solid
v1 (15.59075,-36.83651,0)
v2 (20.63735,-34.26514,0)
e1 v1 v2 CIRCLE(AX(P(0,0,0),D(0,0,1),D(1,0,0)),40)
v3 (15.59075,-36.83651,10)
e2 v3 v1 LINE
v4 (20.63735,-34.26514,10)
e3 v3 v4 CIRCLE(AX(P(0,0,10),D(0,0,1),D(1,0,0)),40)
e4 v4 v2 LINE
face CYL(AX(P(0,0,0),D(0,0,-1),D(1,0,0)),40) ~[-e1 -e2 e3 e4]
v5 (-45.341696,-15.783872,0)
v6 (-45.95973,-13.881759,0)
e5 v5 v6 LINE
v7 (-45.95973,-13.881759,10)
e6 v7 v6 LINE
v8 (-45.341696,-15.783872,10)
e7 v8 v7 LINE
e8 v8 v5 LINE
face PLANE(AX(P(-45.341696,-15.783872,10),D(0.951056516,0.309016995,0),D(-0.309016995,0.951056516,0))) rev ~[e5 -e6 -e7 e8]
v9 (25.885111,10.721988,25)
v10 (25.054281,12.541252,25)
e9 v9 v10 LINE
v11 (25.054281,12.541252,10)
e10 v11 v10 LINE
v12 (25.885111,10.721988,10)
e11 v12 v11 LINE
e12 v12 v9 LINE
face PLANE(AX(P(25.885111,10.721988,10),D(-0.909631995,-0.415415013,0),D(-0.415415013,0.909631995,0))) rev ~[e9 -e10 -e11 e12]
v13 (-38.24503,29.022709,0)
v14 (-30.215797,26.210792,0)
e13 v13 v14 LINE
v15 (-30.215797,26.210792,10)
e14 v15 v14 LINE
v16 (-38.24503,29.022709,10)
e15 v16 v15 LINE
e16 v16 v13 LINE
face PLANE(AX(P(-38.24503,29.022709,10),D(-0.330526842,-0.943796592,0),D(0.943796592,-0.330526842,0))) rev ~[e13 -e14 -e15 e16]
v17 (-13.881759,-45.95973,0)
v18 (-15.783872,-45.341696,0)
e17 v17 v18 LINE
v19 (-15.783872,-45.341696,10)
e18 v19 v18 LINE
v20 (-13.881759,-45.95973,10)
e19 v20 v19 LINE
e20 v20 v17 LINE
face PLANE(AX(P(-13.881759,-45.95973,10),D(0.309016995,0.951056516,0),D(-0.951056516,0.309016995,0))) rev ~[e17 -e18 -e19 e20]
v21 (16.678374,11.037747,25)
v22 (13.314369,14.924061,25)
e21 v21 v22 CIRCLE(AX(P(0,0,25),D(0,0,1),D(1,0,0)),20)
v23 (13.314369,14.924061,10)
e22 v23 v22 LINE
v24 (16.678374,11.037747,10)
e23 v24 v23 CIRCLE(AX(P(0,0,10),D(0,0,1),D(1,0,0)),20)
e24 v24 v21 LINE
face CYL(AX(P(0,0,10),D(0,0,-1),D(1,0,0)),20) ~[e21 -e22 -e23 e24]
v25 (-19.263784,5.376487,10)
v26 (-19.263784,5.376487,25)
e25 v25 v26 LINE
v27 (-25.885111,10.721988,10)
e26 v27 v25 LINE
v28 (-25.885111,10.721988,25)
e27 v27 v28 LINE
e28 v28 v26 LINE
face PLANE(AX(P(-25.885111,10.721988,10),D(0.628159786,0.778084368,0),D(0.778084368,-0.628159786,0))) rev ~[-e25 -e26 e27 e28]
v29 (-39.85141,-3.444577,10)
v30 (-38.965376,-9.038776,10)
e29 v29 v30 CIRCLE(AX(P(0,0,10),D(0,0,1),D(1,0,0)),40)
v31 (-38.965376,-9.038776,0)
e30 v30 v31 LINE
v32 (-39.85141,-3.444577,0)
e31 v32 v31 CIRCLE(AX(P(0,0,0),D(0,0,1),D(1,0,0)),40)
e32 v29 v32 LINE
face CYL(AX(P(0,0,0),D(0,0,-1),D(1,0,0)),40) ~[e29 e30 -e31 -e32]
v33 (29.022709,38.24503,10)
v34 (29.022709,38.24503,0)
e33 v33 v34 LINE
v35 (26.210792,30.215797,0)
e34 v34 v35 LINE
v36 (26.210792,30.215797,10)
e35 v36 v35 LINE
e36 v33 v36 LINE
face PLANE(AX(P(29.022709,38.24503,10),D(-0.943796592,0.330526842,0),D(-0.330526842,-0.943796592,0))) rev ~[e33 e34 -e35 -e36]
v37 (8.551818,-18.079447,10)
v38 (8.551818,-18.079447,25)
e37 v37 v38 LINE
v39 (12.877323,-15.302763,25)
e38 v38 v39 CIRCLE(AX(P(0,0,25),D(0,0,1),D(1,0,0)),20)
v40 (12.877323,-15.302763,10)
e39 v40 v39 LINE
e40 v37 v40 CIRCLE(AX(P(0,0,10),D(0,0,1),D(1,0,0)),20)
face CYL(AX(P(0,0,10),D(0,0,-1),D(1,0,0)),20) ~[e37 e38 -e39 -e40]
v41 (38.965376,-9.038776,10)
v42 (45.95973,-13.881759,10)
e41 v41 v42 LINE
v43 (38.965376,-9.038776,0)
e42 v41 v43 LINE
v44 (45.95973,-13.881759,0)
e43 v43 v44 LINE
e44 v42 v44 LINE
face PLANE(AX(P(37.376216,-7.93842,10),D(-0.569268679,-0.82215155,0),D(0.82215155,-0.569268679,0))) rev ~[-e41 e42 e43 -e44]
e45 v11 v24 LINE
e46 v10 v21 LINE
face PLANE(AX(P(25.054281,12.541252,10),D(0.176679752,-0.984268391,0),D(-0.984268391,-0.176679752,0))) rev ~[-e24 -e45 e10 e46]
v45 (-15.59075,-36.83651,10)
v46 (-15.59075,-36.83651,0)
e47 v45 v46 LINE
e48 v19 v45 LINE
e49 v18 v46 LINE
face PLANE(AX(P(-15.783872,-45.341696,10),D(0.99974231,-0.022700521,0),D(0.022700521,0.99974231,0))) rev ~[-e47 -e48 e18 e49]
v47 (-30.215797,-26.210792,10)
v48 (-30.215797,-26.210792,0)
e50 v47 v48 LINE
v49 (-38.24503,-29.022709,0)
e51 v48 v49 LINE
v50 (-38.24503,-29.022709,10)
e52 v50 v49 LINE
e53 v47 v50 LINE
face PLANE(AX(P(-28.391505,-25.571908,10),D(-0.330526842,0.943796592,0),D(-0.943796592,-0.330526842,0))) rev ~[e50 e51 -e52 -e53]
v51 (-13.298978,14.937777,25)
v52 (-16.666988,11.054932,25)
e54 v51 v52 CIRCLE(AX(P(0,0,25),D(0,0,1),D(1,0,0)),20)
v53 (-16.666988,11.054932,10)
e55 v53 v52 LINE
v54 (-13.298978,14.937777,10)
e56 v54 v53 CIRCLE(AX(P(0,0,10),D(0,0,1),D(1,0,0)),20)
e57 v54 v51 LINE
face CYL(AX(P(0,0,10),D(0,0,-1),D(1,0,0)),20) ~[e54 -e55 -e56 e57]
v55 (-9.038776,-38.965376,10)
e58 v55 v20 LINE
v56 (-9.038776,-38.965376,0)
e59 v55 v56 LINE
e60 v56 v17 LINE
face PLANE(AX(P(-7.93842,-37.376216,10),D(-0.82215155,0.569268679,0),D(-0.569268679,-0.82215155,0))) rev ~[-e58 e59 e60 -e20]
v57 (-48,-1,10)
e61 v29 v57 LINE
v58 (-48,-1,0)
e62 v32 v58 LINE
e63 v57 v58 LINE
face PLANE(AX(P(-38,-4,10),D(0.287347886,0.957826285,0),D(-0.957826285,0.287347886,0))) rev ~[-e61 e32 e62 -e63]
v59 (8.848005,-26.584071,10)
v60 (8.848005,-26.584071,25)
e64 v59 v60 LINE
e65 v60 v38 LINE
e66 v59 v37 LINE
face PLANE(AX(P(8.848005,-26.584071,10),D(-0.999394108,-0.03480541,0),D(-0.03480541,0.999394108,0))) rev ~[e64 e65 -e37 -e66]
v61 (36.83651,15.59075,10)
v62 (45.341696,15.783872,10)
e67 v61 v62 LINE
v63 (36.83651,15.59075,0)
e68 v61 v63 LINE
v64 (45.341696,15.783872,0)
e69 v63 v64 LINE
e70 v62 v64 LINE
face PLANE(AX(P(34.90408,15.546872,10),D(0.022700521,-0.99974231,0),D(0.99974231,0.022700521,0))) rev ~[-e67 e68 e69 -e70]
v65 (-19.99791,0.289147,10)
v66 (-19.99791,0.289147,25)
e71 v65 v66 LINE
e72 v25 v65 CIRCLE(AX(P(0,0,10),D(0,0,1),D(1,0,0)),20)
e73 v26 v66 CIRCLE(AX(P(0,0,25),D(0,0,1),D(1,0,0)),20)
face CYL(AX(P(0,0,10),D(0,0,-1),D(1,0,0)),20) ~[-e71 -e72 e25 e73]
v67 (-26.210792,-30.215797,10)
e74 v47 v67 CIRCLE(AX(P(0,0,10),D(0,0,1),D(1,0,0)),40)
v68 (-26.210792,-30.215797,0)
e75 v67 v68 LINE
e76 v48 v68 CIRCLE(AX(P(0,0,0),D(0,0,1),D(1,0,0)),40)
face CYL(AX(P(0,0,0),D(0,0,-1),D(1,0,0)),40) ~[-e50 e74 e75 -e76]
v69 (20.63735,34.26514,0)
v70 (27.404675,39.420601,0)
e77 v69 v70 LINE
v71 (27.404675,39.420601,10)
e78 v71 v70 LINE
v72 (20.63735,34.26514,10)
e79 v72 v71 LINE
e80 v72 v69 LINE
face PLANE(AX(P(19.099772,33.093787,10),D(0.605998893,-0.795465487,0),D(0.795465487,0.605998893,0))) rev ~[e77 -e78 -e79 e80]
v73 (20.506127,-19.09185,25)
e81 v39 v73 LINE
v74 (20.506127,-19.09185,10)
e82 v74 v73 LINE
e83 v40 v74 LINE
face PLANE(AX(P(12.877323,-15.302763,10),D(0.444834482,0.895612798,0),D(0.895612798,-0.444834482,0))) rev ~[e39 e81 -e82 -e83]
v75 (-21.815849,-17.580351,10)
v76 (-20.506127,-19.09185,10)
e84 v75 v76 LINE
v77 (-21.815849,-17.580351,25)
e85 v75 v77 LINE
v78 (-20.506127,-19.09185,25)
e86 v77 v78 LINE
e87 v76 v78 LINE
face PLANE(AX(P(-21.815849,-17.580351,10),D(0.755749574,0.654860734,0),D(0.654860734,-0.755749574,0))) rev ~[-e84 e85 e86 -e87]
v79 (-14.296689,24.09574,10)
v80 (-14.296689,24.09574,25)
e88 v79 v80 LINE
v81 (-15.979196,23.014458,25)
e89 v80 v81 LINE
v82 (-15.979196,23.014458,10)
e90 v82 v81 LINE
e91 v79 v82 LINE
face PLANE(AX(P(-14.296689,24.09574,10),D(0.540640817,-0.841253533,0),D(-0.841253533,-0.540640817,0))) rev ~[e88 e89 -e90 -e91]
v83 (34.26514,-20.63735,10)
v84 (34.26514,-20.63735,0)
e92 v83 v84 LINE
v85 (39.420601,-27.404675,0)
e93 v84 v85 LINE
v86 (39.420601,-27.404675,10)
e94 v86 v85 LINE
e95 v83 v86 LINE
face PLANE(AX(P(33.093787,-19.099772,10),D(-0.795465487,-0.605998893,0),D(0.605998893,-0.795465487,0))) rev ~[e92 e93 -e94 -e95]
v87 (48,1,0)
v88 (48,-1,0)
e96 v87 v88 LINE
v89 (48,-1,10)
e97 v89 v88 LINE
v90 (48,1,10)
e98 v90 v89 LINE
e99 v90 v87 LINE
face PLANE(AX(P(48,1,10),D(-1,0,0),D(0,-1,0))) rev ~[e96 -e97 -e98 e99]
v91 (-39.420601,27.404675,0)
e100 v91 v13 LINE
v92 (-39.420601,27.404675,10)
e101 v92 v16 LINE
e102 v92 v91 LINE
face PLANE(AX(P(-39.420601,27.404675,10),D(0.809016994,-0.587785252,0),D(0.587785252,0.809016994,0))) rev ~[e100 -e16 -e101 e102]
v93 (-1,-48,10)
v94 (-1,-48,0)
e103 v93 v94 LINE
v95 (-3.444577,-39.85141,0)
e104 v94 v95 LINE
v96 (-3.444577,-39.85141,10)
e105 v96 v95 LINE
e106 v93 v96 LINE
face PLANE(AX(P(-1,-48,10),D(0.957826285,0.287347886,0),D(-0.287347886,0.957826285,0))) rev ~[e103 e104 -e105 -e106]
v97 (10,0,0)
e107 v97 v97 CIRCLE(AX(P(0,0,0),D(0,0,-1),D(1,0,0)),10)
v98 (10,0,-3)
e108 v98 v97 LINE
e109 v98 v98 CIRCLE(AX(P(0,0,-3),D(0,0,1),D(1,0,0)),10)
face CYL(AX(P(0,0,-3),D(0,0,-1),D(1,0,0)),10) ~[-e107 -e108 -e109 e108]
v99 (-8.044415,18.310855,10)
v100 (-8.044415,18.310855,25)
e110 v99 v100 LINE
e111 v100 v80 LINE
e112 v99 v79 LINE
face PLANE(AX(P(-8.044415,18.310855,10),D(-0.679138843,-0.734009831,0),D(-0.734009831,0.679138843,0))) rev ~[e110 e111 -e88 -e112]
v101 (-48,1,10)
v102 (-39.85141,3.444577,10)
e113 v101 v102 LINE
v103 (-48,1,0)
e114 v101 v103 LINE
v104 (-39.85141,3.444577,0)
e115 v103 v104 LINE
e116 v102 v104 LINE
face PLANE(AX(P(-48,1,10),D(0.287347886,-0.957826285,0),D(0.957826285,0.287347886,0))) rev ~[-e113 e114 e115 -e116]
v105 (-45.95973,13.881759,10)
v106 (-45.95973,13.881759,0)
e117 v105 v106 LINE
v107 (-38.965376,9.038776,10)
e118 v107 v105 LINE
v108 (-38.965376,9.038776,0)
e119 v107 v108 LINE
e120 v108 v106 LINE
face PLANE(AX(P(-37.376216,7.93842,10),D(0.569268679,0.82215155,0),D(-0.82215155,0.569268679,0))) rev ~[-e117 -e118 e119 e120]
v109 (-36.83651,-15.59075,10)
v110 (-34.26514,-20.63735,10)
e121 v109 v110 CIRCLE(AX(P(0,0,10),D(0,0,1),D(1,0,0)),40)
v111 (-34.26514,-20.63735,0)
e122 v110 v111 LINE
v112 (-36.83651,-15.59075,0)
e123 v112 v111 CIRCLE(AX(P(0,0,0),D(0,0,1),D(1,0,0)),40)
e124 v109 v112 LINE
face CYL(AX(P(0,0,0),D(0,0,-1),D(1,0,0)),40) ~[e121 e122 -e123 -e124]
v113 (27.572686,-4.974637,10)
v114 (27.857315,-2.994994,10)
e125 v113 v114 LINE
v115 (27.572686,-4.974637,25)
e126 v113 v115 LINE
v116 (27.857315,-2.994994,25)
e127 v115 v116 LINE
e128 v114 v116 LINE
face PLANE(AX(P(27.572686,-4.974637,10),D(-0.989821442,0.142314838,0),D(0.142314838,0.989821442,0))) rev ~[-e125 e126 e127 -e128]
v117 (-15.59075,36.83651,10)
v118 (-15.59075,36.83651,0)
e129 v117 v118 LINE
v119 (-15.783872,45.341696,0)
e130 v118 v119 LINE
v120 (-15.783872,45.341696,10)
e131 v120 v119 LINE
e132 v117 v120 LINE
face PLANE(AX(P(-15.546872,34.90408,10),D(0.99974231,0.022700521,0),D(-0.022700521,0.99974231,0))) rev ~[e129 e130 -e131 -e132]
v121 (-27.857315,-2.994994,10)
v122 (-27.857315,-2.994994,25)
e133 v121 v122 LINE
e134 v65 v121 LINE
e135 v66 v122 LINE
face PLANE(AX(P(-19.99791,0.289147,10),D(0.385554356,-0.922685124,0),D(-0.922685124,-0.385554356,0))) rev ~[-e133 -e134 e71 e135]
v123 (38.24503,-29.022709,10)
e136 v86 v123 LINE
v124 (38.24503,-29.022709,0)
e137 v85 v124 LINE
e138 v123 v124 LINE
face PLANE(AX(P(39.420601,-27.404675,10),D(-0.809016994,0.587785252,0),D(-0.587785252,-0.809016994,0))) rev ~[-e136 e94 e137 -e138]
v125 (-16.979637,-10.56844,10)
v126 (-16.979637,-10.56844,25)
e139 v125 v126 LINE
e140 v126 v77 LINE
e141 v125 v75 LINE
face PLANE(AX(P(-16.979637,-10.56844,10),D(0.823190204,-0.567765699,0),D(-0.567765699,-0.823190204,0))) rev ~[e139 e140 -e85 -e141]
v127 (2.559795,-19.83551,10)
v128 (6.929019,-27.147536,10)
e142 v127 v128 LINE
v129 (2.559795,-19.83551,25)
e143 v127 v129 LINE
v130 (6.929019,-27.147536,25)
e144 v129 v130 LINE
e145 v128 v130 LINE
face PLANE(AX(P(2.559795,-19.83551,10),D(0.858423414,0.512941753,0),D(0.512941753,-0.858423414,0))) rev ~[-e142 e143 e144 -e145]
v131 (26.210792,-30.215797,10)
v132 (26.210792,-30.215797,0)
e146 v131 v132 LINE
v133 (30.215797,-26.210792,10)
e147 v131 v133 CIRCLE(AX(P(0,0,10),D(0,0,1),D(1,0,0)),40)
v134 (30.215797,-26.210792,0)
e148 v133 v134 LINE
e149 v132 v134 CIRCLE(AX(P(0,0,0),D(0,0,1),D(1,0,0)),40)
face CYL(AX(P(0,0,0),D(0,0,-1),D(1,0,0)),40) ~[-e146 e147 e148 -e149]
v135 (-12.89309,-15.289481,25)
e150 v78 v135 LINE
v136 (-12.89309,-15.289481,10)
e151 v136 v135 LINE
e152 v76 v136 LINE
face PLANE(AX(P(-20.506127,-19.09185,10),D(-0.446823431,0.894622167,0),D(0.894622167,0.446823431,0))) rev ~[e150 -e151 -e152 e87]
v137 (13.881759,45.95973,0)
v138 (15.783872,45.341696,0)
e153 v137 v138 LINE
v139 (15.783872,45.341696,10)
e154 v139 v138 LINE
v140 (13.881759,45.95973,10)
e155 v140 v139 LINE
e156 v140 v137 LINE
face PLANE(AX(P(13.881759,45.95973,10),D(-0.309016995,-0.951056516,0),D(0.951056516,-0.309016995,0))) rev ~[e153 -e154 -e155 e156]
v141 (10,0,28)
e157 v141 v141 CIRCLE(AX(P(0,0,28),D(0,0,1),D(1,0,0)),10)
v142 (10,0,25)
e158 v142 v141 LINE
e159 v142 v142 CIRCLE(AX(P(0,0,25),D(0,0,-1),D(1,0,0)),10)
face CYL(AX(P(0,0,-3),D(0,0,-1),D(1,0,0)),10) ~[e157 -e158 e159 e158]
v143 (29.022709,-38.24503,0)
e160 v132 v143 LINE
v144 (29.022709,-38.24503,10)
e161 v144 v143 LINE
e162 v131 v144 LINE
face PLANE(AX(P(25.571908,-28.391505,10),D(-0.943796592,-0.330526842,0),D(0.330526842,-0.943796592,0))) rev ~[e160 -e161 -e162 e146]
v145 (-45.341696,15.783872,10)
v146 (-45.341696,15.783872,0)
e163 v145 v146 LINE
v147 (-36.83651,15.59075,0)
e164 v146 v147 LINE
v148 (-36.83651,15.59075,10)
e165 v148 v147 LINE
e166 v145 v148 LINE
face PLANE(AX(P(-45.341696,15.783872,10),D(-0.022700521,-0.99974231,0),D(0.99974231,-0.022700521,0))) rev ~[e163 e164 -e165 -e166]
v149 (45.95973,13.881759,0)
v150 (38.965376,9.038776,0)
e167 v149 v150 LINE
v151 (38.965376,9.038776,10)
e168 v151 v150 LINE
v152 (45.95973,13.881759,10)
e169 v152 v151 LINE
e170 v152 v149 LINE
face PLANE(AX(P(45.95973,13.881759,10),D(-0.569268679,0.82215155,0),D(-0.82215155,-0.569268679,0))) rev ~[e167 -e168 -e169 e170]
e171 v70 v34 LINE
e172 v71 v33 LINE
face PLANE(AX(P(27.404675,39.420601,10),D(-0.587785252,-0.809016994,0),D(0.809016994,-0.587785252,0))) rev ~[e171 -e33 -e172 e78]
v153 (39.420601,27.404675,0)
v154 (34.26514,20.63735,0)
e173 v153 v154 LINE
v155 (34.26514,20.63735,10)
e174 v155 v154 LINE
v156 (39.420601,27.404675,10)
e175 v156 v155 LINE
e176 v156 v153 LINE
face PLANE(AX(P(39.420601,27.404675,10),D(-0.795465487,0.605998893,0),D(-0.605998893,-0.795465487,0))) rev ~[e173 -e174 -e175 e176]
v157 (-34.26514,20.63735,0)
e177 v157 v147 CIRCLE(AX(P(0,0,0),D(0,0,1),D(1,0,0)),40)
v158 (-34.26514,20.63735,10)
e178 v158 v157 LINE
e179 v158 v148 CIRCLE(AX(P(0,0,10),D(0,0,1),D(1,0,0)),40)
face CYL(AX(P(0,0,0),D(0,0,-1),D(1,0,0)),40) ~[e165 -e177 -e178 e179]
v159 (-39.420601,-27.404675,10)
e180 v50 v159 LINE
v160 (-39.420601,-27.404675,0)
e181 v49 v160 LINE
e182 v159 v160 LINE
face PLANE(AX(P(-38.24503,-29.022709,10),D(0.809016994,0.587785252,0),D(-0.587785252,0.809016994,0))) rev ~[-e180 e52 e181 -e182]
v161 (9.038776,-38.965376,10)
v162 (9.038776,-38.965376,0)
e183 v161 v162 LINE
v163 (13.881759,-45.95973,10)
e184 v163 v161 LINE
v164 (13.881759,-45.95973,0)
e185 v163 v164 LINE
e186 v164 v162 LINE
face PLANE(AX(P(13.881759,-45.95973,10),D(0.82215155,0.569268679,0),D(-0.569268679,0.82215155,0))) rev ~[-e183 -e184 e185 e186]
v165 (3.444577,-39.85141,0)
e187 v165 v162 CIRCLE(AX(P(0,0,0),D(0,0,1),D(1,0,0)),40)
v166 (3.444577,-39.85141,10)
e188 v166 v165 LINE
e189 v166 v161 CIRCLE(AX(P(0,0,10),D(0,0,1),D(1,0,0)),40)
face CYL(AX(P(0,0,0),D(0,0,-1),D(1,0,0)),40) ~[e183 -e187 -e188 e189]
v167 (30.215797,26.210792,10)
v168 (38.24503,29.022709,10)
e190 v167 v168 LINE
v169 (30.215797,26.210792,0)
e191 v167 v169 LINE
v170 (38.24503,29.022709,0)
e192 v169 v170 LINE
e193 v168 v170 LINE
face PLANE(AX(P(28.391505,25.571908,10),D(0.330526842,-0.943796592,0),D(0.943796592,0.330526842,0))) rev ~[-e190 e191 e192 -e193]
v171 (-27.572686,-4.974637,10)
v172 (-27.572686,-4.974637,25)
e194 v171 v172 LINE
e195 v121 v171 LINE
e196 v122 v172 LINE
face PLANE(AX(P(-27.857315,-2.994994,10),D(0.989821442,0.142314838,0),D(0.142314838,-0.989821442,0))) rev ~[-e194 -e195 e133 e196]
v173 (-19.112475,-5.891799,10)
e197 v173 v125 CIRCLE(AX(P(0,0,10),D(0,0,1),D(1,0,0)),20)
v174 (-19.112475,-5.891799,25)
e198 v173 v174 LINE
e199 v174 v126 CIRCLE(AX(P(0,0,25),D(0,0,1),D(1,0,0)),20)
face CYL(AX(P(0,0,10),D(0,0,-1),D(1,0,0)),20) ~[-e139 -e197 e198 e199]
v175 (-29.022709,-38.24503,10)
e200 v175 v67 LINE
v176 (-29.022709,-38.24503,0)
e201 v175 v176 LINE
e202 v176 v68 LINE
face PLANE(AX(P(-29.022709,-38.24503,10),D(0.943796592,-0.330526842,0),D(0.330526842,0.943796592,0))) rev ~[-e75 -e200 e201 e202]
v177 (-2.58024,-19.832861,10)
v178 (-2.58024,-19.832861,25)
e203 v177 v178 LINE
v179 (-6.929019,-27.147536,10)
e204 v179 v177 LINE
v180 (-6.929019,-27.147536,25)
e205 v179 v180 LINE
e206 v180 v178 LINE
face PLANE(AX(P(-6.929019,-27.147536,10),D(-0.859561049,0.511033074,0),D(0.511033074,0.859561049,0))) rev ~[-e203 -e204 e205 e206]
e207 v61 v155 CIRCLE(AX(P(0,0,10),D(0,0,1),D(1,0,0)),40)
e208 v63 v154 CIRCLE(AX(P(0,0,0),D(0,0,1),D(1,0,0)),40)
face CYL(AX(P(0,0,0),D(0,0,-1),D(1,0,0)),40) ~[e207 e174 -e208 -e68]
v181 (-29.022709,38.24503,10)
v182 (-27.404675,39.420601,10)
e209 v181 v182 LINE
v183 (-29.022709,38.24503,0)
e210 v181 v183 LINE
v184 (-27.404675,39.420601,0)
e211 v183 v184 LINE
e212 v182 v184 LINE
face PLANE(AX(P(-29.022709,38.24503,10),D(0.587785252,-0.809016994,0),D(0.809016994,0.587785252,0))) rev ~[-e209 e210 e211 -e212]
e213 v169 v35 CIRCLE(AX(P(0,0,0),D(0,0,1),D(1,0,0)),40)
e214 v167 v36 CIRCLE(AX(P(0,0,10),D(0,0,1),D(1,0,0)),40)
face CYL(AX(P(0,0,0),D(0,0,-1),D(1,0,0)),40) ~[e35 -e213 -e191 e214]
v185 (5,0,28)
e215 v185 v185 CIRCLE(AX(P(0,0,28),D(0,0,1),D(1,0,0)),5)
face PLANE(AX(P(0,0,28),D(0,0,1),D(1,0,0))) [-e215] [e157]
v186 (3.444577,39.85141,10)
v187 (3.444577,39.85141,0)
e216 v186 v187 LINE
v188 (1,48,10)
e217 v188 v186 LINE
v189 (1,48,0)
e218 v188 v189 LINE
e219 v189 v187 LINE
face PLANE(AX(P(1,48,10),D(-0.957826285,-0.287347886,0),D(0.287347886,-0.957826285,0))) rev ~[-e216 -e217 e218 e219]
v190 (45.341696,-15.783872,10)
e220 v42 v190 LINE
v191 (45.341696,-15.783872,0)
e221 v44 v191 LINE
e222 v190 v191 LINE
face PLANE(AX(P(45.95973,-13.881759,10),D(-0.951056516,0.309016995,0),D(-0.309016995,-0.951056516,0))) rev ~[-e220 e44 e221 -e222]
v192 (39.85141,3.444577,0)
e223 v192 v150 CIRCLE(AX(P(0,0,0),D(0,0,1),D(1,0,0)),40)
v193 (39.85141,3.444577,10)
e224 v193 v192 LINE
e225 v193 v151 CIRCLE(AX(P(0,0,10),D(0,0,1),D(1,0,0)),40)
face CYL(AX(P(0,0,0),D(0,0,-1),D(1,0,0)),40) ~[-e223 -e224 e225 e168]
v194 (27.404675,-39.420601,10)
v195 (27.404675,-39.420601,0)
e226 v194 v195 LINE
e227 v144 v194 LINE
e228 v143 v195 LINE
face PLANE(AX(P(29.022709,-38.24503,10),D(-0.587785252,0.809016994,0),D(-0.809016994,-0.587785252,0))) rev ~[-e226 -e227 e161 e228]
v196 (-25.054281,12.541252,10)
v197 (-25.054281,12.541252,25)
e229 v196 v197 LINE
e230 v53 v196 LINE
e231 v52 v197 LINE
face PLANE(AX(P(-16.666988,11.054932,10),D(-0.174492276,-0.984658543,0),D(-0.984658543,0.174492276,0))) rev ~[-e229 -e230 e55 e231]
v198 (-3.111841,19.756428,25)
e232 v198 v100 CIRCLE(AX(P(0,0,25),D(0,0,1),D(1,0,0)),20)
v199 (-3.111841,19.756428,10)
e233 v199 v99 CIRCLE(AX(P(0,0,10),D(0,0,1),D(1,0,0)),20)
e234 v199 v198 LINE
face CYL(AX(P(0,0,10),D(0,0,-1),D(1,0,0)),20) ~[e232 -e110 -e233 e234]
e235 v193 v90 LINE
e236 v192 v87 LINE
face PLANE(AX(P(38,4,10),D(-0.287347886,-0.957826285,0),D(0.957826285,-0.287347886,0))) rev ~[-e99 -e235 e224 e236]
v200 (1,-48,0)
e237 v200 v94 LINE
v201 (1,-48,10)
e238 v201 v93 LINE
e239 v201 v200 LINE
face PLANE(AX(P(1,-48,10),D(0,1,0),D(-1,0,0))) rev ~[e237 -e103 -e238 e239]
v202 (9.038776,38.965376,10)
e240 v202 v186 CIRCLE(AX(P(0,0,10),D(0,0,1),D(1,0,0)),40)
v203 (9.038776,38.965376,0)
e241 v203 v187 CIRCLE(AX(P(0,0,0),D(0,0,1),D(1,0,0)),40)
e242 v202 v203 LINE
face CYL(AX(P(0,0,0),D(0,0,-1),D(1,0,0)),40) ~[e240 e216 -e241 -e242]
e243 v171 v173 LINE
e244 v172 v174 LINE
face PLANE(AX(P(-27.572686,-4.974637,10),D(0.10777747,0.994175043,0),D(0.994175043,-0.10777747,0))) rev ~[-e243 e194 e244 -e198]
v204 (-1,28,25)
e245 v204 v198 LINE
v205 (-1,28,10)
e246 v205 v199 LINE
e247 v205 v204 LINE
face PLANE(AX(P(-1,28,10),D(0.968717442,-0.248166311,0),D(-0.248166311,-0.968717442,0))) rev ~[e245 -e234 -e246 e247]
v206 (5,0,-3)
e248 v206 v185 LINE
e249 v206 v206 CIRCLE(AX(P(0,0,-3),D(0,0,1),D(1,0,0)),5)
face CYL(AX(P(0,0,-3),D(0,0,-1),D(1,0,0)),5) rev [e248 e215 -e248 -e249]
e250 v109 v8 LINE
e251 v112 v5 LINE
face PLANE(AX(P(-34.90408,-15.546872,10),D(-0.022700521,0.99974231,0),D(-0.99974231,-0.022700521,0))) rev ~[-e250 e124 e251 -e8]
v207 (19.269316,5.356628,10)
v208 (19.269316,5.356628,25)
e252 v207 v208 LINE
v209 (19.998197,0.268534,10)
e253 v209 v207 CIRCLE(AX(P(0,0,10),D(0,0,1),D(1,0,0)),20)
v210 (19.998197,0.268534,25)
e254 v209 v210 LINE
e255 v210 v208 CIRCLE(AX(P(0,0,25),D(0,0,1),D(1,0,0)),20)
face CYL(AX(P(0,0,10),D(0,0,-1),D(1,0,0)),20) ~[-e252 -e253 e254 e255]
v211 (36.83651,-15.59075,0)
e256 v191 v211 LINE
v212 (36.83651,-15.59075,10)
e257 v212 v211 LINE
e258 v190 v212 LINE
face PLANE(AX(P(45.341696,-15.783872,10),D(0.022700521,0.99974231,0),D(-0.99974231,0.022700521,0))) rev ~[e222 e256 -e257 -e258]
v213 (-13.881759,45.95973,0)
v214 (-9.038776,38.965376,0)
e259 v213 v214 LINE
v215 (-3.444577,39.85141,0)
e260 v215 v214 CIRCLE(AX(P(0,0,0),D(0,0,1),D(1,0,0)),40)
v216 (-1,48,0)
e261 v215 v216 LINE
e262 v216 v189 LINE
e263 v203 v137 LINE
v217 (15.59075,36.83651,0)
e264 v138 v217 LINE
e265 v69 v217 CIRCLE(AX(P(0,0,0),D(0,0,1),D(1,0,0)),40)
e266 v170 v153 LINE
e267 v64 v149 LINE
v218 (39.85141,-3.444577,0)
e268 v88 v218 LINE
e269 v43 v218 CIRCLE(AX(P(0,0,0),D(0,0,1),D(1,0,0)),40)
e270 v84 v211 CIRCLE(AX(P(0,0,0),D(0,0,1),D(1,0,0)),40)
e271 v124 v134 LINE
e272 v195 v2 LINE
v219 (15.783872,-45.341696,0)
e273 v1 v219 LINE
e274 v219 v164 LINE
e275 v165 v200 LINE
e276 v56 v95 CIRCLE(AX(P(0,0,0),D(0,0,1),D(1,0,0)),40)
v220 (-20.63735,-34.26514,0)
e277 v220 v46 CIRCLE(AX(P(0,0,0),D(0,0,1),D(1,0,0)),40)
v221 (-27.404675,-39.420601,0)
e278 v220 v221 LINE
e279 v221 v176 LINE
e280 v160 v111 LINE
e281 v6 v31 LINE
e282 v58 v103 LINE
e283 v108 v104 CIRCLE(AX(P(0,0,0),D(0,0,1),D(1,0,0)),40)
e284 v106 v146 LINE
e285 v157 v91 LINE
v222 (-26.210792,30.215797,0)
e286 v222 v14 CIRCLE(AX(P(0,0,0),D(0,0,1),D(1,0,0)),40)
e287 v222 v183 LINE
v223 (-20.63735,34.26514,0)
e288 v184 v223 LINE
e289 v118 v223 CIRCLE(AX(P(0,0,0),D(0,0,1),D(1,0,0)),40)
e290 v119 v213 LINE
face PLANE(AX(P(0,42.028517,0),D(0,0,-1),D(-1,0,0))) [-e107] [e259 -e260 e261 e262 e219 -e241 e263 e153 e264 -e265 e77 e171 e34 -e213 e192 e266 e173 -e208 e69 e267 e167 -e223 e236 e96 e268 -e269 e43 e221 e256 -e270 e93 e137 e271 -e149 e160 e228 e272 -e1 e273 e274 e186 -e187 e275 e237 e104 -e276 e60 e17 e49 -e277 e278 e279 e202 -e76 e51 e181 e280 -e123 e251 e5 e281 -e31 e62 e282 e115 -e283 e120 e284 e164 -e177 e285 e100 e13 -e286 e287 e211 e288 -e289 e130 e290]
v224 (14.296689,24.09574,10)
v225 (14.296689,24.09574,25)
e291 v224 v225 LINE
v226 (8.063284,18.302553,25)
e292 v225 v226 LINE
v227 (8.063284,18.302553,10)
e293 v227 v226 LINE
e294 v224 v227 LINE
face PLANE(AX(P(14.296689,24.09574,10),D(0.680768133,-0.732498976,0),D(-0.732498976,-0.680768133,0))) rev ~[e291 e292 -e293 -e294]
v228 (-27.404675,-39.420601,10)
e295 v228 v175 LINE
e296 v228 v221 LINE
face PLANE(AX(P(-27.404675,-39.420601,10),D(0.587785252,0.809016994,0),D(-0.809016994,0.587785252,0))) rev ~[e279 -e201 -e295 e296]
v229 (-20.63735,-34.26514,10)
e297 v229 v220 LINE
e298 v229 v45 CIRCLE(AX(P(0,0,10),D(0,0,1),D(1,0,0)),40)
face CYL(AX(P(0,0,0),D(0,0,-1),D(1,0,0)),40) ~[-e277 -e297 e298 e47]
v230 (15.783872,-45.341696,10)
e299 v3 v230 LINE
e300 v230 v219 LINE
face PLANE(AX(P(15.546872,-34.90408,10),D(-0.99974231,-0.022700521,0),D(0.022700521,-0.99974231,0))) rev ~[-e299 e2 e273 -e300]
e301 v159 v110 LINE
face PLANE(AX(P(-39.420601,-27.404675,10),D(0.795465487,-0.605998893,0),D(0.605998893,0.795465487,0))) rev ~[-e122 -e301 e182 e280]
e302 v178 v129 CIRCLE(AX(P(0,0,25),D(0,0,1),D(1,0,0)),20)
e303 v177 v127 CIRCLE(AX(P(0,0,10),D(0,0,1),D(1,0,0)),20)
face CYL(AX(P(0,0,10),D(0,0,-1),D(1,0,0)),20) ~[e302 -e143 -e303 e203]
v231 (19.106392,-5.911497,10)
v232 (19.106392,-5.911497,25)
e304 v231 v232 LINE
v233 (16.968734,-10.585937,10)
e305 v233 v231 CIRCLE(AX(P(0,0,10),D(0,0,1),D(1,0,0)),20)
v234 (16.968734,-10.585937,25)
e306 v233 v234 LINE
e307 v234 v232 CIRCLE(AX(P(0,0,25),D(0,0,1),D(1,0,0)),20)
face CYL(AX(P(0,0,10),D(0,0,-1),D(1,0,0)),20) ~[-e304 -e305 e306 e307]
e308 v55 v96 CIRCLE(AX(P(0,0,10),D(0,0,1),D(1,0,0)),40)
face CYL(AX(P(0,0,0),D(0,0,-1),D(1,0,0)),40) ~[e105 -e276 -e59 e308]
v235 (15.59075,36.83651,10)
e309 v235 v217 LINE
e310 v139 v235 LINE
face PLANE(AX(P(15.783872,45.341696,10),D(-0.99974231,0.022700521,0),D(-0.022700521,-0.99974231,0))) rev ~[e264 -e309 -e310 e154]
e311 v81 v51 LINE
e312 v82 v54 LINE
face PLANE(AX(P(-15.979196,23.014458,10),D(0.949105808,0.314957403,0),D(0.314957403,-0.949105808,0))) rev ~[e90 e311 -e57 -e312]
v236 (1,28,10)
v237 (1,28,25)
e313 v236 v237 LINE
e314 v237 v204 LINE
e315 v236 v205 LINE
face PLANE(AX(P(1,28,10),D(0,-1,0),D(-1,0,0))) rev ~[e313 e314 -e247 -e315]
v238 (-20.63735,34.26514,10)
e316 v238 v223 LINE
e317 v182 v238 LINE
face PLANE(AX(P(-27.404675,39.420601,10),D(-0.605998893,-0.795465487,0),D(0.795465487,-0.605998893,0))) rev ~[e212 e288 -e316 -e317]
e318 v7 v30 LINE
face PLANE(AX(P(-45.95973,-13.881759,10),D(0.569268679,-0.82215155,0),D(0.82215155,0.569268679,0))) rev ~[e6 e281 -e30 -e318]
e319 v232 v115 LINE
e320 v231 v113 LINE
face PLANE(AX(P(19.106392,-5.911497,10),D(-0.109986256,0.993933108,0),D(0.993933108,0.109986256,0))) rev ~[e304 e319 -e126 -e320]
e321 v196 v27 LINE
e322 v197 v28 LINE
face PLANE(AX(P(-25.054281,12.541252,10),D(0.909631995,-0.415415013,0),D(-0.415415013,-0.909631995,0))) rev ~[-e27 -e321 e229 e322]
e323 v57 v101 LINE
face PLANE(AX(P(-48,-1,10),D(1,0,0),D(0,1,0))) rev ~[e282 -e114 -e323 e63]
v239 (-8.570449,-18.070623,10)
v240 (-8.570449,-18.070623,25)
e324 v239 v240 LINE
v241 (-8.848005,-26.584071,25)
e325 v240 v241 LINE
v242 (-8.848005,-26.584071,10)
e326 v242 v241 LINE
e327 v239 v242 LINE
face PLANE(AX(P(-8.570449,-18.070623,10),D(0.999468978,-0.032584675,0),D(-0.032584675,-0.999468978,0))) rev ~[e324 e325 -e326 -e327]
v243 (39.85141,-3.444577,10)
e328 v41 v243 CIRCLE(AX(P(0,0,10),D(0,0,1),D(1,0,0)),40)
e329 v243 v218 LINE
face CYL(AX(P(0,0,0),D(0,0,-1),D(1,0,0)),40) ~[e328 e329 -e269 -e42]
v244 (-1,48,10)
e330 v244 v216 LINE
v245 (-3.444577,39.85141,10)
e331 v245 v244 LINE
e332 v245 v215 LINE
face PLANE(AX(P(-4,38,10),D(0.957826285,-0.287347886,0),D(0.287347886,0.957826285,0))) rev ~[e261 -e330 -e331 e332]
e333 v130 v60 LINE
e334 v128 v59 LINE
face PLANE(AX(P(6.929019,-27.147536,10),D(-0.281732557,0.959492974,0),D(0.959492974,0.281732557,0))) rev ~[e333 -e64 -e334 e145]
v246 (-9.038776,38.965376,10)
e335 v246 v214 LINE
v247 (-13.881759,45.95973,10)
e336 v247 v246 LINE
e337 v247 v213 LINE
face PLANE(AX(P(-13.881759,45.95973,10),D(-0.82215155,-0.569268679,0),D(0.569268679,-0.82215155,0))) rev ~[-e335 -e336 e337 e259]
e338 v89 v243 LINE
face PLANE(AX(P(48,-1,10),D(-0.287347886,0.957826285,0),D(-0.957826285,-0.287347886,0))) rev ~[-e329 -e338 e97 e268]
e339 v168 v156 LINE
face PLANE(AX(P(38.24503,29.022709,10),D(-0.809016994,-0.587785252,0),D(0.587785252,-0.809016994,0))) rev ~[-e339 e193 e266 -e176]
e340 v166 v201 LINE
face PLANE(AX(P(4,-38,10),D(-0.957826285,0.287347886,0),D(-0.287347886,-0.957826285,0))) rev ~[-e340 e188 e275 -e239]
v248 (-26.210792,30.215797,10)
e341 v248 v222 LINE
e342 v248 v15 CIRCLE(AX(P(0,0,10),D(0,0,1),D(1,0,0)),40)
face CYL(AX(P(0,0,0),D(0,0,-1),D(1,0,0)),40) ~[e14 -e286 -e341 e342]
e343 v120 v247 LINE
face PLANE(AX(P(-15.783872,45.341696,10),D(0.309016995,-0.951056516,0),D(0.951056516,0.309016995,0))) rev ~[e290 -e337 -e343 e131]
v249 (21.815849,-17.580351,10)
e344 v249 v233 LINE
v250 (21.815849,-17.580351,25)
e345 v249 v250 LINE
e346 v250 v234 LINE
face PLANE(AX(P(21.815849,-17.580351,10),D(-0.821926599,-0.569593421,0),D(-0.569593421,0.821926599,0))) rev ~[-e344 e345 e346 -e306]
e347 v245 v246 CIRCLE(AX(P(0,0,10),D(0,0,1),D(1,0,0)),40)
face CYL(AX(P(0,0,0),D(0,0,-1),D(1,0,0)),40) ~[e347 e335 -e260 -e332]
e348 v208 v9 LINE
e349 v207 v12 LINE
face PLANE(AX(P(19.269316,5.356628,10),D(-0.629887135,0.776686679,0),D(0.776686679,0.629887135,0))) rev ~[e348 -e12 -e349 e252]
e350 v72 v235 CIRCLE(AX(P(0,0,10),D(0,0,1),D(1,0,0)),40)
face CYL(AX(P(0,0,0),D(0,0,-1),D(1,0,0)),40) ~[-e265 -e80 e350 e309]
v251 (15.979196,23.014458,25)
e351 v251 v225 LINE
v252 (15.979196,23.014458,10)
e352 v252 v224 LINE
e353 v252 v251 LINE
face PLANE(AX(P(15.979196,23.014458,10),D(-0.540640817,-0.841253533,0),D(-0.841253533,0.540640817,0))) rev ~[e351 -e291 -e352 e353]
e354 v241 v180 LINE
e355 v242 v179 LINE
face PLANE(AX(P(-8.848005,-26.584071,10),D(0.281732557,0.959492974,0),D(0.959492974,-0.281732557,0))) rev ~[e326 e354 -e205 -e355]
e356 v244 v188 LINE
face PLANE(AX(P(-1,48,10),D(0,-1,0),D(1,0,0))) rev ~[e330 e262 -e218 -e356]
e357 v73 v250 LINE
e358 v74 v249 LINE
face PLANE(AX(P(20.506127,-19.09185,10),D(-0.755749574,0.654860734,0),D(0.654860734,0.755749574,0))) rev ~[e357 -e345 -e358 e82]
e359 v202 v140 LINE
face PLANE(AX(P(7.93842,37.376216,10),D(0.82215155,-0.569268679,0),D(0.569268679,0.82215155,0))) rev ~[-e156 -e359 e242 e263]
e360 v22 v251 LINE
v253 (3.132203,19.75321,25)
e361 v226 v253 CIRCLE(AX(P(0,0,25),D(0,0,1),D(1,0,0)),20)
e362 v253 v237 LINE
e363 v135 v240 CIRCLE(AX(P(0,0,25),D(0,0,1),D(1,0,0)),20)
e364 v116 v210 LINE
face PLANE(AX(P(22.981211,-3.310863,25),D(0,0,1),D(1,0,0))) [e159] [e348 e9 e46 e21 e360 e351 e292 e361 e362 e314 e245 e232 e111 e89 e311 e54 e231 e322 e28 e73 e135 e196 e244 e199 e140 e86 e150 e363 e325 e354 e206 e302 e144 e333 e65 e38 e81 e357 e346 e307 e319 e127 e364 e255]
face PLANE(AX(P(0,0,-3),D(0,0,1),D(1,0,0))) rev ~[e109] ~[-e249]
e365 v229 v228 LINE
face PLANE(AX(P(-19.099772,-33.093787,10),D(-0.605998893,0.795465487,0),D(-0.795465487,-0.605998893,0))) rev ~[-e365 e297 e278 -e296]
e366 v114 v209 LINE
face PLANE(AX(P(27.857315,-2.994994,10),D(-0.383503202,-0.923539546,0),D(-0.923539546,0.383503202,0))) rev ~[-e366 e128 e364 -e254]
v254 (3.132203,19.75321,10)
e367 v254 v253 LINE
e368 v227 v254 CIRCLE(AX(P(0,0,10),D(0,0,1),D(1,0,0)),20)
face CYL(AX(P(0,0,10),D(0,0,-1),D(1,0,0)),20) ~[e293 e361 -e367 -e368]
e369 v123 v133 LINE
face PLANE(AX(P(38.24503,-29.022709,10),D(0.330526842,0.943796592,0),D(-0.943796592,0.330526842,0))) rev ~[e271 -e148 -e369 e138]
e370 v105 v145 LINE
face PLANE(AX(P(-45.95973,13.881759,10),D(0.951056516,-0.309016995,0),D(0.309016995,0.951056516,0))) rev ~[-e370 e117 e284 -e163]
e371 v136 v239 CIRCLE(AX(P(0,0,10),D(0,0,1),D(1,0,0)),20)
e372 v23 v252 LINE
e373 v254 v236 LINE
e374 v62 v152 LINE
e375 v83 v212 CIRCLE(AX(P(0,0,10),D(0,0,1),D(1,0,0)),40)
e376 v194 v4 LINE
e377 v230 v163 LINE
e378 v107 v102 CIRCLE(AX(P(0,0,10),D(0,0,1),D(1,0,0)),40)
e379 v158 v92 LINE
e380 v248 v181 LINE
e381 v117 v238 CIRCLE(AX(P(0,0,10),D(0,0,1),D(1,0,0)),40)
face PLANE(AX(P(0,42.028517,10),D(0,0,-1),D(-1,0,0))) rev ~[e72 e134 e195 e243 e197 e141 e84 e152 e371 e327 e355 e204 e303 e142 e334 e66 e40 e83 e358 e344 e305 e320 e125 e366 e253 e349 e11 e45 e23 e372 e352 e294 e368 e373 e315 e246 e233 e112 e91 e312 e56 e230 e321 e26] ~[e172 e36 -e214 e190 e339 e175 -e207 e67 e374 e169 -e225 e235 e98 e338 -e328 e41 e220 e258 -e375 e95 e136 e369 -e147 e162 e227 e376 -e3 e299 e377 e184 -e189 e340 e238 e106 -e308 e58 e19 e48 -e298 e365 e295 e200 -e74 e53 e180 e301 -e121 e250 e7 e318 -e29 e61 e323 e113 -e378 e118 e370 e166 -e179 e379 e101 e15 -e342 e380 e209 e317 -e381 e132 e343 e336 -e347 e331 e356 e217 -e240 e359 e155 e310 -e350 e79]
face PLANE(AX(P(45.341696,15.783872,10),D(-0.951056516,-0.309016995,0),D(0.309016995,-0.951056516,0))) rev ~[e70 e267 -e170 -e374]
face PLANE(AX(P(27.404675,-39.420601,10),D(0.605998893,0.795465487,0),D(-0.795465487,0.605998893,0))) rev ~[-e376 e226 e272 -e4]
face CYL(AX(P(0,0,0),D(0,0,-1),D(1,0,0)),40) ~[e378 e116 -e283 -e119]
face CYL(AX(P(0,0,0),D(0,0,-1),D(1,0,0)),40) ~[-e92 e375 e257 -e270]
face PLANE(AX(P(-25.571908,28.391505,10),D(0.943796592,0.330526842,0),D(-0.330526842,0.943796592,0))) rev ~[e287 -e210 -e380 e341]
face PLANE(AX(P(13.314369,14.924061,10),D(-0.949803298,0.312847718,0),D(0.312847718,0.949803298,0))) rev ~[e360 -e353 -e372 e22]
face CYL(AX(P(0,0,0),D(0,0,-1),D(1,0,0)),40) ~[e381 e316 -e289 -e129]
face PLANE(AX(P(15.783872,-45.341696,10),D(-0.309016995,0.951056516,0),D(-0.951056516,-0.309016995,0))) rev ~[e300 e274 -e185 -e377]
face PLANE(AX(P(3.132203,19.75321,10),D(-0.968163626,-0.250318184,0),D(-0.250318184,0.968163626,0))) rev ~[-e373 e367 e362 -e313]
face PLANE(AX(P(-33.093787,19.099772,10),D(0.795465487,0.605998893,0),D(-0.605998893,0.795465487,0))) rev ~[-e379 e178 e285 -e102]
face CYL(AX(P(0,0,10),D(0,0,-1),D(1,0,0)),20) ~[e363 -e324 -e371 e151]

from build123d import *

# Parameters (mm, degrees)
SKETCH1_R                = 40
BOSS_EXTRUDE1_DEPTH      = 10
BOSS_EXTRUDE2_DEPTH      = 10
SKETCH3_R                = 20
BOSS_EXTRUDE3_DEPTH      = 15
BOSS_EXTRUDE4_START      = -15
BOSS_EXTRUDE4_DEPTH      = 15
BOSS_EXTRUDE6_DEPTH      = 3
BOSS_EXTRUDE6_DEPTH_BACK = 28
SKETCH5_R                = 10
SKETCH5_R_2              = 5
CUT_EXTRUDE1_DEPTH       = 74.430239003
CUT_EXTRUDE1_DEPTH_BACK  = 74.430239003
SKETCH6_R                = 5


with BuildPart() as part:
    # Sketch1 → Boss-Extrude1 (new body)
    with BuildSketch(Plane.XY):
        Circle(SKETCH1_R)
    extrude(amount=BOSS_EXTRUDE1_DEPTH)

    # Sketch2 → Boss-Extrude2 (add)
    with BuildSketch(Plane.XY.offset(10)):
        Polygon((-1, 48), (1, 48), (4, 38), (-4, 38), align=None)
        Polygon((7.938419721, 37.376215597), (13.881759214, 45.959729777), (15.783872246, 45.341695788), (15.546871851, 34.904079642), align=None)
        Polygon((19.09977161, 33.093786795), (27.404675116, 39.420600982), (29.022709104, 38.245030478), (25.571907565, 28.391504777), align=None)
        Polygon((28.391504777, 25.571907565), (38.245030478, 29.022709104), (39.420600982, 27.404675116), (33.093786795, 19.09977161), align=None)
        Polygon((34.904079642, 15.546871851), (45.341695788, 15.783872246), (45.959729777, 13.881759214), (37.376215597, 7.938419721), align=None)
        Polygon((38, 4), (48, 1), (48, -1), (38, -4), align=None)
        Polygon((37.376215597, -7.938419721), (45.959729777, -13.881759214), (45.341695788, -15.783872246), (34.904079642, -15.546871851), align=None)
        Polygon((33.093786795, -19.09977161), (39.420600982, -27.404675116), (38.245030478, -29.022709104), (28.391504777, -25.571907565), align=None)
        Polygon((25.571907565, -28.391504777), (29.022709104, -38.245030478), (27.404675116, -39.420600982), (19.09977161, -33.093786795), align=None)
        Polygon((15.546871851, -34.904079642), (15.783872246, -45.341695788), (13.881759214, -45.959729777), (7.938419721, -37.376215597), align=None)
        Polygon((4, -38), (1, -48), (-1, -48), (-4, -38), align=None)
        Polygon((-7.938419721, -37.376215597), (-13.881759214, -45.959729777), (-15.783872246, -45.341695788), (-15.546871851, -34.904079642), align=None)
        Polygon((-19.09977161, -33.093786795), (-27.404675116, -39.420600982), (-29.022709104, -38.245030478), (-25.571907565, -28.391504777), align=None)
        Polygon((-28.391504777, -25.571907565), (-38.245030478, -29.022709104), (-39.420600982, -27.404675116), (-33.093786795, -19.09977161), align=None)
        Polygon((-34.904079642, -15.546871851), (-45.341695788, -15.783872246), (-45.959729777, -13.881759214), (-37.376215597, -7.938419721), align=None)
        Polygon((-38, -4), (-48, -1), (-48, 1), (-38, 4), align=None)
        Polygon((-37.376215597, 7.938419721), (-45.959729777, 13.881759214), (-45.341695788, 15.783872246), (-34.904079642, 15.546871851), align=None)
        Polygon((-33.093786795, 19.09977161), (-39.420600982, 27.404675116), (-38.245030478, 29.022709104), (-28.391504777, 25.571907565), align=None)
        Polygon((-25.571907565, 28.391504777), (-29.022709104, 38.245030478), (-27.404675116, 39.420600982), (-19.09977161, 33.093786795), align=None)
        Polygon((-15.546871851, 34.904079642), (-15.783872246, 45.341695788), (-13.881759214, 45.959729777), (-7.938419721, 37.376215597), align=None)
    extrude(amount=-BOSS_EXTRUDE2_DEPTH)

    # Sketch3 → Boss-Extrude3 (add)
    with BuildSketch(Plane.XY.offset(10)):
        Circle(SKETCH3_R)
    extrude(amount=BOSS_EXTRUDE3_DEPTH)

    # Sketch4 → Boss-Extrude4 (add)
    with BuildSketch(Plane.XY.offset(25).offset(BOSS_EXTRUDE4_START)):
        with BuildLine():
            ThreePointArc((-13.298978315, 14.937776802), (-10.804143602, 16.830641136), (-8.044414634, 18.310854518))
            Line((-8.044414634, 18.310854518), (-14.296689356, 24.095739737))
            Line((-14.296689356, 24.095739737), (-15.979196422, 23.014458102))
            Line((-15.979196422, 23.014458102), (-13.298978315, 14.937776802))
        make_face()
        with BuildLine():
            Line((1, 28), (-1, 28))
            Line((-1, 28), (-3.11184063, 19.756428015))
            ThreePointArc((-3.11184063, 19.756428015), (-1.560679292, 19.939014021), (0, 20))
            ThreePointArc((0, 20), (1.570955262, 19.93820703), (3.132203125, 19.753209957))
            Line((3.132203125, 19.753209957), (1, 28))
        make_face()
        with BuildLine():
            Line((14.296689356, 24.095739737), (8.063284469, 18.302552925))
            ThreePointArc((8.063284469, 18.302552925), (10.821486224, 16.819495709), (13.314368522, 14.924060803))
            Line((13.314368522, 14.924060803), (15.979196422, 23.014458102))
            Line((15.979196422, 23.014458102), (14.296689356, 24.095739737))
        make_face()
        with BuildLine():
            Line((25.054280857, 12.541252359), (16.67837372, 11.037746602))
            ThreePointArc((16.67837372, 11.037746602), (18.196919426, 8.298923027), (19.269315989, 5.356627793))
            Line((19.269315989, 5.356627793), (25.885110883, 10.721988369))
            Line((25.885110883, 10.721988369), (25.054280857, 12.541252359))
        make_face()
        with BuildLine():
            Line((27.857315211, -2.99499403), (19.99819716, 0.268533721))
            ThreePointArc((19.99819716, 0.268533721), (19.999549285, 0.134269886), (20, 0))
            ThreePointArc((20, 0), (19.775336098, -2.989328052), (19.10639178, -5.911496693))
            Line((19.10639178, -5.911496693), (27.572685534, -4.974636914))
            Line((27.572685534, -4.974636914), (27.857315211, -2.99499403))
        make_face()
        with BuildLine():
            ThreePointArc((-19.263784352, 5.376486999), (-18.188355556, 8.317675286), (-16.666987586, 11.054932149))
            Line((-16.666987586, 11.054932149), (-25.054280857, 12.541252359))
            Line((-25.054280857, 12.541252359), (-25.885110883, 10.721988369))
            Line((-25.885110883, 10.721988369), (-19.263784352, 5.376486999))
        make_face()
        with BuildLine():
            ThreePointArc((-19.112474968, -5.891799437), (-19.797893134, -2.836093696), (-19.997909742, 0.289146933))
            Line((-19.997909742, 0.289146933), (-27.857315211, -2.99499403))
            Line((-27.857315211, -2.99499403), (-27.572685534, -4.974636914))
            Line((-27.572685534, -4.974636914), (-19.112474968, -5.891799437))
        make_face()
        with BuildLine():
            ThreePointArc((-12.893089824, -15.289481181), (-15.121739527, -13.089422969), (-16.979636854, -10.568440392))
            Line((-16.979636854, -10.568440392), (-21.815848816, -17.580350976))
            Line((-21.815848816, -17.580350976), (-20.506127348, -19.091850125))
            Line((-20.506127348, -19.091850125), (-12.893089824, -15.289481181))
        make_face()
        with BuildLine():
            ThreePointArc((-2.580239759, -19.832860681), (-5.644540466, -19.186952935), (-8.570449237, -18.070622565))
            Line((-8.570449237, -18.070622565), (-8.848004565, -26.584070704))
            Line((-8.848004565, -26.584070704), (-6.929018618, -27.147535818))
            Line((-6.929018618, -27.147535818), (-2.580239759, -19.832860681))
        make_face()
        with BuildLine():
            Line((8.848004565, -26.584070704), (8.551818198, -18.079447047))
            ThreePointArc((8.551818198, -18.079447047), (5.624760311, -19.192760912), (2.559795457, -19.835509754))
            Line((2.559795457, -19.835509754), (6.929018618, -27.147535818))
            Line((6.929018618, -27.147535818), (8.848004565, -26.584070704))
        make_face()
        with BuildLine():
            Line((21.815848816, -17.580350976), (16.968734301, -10.585936718))
            ThreePointArc((16.968734301, -10.585936718), (15.108239432, -13.10500291), (12.87732318, -15.302762748))
            Line((12.87732318, -15.302762748), (20.506127348, -19.091850125))
            Line((20.506127348, -19.091850125), (21.815848816, -17.580350976))
        make_face()
    extrude(amount=BOSS_EXTRUDE4_DEPTH)

    # Sketch5 → Boss-Extrude6 (add, two sides: drawn at the far end of the back side and taken through both)
    with BuildSketch(Plane.XY.offset(25).offset(-BOSS_EXTRUDE6_DEPTH_BACK)):
        Circle(SKETCH5_R)
        Circle(SKETCH5_R_2, mode=Mode.SUBTRACT)
    extrude(amount=BOSS_EXTRUDE6_DEPTH + BOSS_EXTRUDE6_DEPTH_BACK)

    # Sketch6 → Cut-Extrude1 (cut, two sides: drawn at the far end of the back side and taken through both)
    with BuildSketch(Plane.XY.offset(25).offset(-CUT_EXTRUDE1_DEPTH_BACK)):
        Circle(SKETCH6_R)
    extrude(amount=CUT_EXTRUDE1_DEPTH + CUT_EXTRUDE1_DEPTH_BACK, mode=Mode.SUBTRACT)


solid = part.part
